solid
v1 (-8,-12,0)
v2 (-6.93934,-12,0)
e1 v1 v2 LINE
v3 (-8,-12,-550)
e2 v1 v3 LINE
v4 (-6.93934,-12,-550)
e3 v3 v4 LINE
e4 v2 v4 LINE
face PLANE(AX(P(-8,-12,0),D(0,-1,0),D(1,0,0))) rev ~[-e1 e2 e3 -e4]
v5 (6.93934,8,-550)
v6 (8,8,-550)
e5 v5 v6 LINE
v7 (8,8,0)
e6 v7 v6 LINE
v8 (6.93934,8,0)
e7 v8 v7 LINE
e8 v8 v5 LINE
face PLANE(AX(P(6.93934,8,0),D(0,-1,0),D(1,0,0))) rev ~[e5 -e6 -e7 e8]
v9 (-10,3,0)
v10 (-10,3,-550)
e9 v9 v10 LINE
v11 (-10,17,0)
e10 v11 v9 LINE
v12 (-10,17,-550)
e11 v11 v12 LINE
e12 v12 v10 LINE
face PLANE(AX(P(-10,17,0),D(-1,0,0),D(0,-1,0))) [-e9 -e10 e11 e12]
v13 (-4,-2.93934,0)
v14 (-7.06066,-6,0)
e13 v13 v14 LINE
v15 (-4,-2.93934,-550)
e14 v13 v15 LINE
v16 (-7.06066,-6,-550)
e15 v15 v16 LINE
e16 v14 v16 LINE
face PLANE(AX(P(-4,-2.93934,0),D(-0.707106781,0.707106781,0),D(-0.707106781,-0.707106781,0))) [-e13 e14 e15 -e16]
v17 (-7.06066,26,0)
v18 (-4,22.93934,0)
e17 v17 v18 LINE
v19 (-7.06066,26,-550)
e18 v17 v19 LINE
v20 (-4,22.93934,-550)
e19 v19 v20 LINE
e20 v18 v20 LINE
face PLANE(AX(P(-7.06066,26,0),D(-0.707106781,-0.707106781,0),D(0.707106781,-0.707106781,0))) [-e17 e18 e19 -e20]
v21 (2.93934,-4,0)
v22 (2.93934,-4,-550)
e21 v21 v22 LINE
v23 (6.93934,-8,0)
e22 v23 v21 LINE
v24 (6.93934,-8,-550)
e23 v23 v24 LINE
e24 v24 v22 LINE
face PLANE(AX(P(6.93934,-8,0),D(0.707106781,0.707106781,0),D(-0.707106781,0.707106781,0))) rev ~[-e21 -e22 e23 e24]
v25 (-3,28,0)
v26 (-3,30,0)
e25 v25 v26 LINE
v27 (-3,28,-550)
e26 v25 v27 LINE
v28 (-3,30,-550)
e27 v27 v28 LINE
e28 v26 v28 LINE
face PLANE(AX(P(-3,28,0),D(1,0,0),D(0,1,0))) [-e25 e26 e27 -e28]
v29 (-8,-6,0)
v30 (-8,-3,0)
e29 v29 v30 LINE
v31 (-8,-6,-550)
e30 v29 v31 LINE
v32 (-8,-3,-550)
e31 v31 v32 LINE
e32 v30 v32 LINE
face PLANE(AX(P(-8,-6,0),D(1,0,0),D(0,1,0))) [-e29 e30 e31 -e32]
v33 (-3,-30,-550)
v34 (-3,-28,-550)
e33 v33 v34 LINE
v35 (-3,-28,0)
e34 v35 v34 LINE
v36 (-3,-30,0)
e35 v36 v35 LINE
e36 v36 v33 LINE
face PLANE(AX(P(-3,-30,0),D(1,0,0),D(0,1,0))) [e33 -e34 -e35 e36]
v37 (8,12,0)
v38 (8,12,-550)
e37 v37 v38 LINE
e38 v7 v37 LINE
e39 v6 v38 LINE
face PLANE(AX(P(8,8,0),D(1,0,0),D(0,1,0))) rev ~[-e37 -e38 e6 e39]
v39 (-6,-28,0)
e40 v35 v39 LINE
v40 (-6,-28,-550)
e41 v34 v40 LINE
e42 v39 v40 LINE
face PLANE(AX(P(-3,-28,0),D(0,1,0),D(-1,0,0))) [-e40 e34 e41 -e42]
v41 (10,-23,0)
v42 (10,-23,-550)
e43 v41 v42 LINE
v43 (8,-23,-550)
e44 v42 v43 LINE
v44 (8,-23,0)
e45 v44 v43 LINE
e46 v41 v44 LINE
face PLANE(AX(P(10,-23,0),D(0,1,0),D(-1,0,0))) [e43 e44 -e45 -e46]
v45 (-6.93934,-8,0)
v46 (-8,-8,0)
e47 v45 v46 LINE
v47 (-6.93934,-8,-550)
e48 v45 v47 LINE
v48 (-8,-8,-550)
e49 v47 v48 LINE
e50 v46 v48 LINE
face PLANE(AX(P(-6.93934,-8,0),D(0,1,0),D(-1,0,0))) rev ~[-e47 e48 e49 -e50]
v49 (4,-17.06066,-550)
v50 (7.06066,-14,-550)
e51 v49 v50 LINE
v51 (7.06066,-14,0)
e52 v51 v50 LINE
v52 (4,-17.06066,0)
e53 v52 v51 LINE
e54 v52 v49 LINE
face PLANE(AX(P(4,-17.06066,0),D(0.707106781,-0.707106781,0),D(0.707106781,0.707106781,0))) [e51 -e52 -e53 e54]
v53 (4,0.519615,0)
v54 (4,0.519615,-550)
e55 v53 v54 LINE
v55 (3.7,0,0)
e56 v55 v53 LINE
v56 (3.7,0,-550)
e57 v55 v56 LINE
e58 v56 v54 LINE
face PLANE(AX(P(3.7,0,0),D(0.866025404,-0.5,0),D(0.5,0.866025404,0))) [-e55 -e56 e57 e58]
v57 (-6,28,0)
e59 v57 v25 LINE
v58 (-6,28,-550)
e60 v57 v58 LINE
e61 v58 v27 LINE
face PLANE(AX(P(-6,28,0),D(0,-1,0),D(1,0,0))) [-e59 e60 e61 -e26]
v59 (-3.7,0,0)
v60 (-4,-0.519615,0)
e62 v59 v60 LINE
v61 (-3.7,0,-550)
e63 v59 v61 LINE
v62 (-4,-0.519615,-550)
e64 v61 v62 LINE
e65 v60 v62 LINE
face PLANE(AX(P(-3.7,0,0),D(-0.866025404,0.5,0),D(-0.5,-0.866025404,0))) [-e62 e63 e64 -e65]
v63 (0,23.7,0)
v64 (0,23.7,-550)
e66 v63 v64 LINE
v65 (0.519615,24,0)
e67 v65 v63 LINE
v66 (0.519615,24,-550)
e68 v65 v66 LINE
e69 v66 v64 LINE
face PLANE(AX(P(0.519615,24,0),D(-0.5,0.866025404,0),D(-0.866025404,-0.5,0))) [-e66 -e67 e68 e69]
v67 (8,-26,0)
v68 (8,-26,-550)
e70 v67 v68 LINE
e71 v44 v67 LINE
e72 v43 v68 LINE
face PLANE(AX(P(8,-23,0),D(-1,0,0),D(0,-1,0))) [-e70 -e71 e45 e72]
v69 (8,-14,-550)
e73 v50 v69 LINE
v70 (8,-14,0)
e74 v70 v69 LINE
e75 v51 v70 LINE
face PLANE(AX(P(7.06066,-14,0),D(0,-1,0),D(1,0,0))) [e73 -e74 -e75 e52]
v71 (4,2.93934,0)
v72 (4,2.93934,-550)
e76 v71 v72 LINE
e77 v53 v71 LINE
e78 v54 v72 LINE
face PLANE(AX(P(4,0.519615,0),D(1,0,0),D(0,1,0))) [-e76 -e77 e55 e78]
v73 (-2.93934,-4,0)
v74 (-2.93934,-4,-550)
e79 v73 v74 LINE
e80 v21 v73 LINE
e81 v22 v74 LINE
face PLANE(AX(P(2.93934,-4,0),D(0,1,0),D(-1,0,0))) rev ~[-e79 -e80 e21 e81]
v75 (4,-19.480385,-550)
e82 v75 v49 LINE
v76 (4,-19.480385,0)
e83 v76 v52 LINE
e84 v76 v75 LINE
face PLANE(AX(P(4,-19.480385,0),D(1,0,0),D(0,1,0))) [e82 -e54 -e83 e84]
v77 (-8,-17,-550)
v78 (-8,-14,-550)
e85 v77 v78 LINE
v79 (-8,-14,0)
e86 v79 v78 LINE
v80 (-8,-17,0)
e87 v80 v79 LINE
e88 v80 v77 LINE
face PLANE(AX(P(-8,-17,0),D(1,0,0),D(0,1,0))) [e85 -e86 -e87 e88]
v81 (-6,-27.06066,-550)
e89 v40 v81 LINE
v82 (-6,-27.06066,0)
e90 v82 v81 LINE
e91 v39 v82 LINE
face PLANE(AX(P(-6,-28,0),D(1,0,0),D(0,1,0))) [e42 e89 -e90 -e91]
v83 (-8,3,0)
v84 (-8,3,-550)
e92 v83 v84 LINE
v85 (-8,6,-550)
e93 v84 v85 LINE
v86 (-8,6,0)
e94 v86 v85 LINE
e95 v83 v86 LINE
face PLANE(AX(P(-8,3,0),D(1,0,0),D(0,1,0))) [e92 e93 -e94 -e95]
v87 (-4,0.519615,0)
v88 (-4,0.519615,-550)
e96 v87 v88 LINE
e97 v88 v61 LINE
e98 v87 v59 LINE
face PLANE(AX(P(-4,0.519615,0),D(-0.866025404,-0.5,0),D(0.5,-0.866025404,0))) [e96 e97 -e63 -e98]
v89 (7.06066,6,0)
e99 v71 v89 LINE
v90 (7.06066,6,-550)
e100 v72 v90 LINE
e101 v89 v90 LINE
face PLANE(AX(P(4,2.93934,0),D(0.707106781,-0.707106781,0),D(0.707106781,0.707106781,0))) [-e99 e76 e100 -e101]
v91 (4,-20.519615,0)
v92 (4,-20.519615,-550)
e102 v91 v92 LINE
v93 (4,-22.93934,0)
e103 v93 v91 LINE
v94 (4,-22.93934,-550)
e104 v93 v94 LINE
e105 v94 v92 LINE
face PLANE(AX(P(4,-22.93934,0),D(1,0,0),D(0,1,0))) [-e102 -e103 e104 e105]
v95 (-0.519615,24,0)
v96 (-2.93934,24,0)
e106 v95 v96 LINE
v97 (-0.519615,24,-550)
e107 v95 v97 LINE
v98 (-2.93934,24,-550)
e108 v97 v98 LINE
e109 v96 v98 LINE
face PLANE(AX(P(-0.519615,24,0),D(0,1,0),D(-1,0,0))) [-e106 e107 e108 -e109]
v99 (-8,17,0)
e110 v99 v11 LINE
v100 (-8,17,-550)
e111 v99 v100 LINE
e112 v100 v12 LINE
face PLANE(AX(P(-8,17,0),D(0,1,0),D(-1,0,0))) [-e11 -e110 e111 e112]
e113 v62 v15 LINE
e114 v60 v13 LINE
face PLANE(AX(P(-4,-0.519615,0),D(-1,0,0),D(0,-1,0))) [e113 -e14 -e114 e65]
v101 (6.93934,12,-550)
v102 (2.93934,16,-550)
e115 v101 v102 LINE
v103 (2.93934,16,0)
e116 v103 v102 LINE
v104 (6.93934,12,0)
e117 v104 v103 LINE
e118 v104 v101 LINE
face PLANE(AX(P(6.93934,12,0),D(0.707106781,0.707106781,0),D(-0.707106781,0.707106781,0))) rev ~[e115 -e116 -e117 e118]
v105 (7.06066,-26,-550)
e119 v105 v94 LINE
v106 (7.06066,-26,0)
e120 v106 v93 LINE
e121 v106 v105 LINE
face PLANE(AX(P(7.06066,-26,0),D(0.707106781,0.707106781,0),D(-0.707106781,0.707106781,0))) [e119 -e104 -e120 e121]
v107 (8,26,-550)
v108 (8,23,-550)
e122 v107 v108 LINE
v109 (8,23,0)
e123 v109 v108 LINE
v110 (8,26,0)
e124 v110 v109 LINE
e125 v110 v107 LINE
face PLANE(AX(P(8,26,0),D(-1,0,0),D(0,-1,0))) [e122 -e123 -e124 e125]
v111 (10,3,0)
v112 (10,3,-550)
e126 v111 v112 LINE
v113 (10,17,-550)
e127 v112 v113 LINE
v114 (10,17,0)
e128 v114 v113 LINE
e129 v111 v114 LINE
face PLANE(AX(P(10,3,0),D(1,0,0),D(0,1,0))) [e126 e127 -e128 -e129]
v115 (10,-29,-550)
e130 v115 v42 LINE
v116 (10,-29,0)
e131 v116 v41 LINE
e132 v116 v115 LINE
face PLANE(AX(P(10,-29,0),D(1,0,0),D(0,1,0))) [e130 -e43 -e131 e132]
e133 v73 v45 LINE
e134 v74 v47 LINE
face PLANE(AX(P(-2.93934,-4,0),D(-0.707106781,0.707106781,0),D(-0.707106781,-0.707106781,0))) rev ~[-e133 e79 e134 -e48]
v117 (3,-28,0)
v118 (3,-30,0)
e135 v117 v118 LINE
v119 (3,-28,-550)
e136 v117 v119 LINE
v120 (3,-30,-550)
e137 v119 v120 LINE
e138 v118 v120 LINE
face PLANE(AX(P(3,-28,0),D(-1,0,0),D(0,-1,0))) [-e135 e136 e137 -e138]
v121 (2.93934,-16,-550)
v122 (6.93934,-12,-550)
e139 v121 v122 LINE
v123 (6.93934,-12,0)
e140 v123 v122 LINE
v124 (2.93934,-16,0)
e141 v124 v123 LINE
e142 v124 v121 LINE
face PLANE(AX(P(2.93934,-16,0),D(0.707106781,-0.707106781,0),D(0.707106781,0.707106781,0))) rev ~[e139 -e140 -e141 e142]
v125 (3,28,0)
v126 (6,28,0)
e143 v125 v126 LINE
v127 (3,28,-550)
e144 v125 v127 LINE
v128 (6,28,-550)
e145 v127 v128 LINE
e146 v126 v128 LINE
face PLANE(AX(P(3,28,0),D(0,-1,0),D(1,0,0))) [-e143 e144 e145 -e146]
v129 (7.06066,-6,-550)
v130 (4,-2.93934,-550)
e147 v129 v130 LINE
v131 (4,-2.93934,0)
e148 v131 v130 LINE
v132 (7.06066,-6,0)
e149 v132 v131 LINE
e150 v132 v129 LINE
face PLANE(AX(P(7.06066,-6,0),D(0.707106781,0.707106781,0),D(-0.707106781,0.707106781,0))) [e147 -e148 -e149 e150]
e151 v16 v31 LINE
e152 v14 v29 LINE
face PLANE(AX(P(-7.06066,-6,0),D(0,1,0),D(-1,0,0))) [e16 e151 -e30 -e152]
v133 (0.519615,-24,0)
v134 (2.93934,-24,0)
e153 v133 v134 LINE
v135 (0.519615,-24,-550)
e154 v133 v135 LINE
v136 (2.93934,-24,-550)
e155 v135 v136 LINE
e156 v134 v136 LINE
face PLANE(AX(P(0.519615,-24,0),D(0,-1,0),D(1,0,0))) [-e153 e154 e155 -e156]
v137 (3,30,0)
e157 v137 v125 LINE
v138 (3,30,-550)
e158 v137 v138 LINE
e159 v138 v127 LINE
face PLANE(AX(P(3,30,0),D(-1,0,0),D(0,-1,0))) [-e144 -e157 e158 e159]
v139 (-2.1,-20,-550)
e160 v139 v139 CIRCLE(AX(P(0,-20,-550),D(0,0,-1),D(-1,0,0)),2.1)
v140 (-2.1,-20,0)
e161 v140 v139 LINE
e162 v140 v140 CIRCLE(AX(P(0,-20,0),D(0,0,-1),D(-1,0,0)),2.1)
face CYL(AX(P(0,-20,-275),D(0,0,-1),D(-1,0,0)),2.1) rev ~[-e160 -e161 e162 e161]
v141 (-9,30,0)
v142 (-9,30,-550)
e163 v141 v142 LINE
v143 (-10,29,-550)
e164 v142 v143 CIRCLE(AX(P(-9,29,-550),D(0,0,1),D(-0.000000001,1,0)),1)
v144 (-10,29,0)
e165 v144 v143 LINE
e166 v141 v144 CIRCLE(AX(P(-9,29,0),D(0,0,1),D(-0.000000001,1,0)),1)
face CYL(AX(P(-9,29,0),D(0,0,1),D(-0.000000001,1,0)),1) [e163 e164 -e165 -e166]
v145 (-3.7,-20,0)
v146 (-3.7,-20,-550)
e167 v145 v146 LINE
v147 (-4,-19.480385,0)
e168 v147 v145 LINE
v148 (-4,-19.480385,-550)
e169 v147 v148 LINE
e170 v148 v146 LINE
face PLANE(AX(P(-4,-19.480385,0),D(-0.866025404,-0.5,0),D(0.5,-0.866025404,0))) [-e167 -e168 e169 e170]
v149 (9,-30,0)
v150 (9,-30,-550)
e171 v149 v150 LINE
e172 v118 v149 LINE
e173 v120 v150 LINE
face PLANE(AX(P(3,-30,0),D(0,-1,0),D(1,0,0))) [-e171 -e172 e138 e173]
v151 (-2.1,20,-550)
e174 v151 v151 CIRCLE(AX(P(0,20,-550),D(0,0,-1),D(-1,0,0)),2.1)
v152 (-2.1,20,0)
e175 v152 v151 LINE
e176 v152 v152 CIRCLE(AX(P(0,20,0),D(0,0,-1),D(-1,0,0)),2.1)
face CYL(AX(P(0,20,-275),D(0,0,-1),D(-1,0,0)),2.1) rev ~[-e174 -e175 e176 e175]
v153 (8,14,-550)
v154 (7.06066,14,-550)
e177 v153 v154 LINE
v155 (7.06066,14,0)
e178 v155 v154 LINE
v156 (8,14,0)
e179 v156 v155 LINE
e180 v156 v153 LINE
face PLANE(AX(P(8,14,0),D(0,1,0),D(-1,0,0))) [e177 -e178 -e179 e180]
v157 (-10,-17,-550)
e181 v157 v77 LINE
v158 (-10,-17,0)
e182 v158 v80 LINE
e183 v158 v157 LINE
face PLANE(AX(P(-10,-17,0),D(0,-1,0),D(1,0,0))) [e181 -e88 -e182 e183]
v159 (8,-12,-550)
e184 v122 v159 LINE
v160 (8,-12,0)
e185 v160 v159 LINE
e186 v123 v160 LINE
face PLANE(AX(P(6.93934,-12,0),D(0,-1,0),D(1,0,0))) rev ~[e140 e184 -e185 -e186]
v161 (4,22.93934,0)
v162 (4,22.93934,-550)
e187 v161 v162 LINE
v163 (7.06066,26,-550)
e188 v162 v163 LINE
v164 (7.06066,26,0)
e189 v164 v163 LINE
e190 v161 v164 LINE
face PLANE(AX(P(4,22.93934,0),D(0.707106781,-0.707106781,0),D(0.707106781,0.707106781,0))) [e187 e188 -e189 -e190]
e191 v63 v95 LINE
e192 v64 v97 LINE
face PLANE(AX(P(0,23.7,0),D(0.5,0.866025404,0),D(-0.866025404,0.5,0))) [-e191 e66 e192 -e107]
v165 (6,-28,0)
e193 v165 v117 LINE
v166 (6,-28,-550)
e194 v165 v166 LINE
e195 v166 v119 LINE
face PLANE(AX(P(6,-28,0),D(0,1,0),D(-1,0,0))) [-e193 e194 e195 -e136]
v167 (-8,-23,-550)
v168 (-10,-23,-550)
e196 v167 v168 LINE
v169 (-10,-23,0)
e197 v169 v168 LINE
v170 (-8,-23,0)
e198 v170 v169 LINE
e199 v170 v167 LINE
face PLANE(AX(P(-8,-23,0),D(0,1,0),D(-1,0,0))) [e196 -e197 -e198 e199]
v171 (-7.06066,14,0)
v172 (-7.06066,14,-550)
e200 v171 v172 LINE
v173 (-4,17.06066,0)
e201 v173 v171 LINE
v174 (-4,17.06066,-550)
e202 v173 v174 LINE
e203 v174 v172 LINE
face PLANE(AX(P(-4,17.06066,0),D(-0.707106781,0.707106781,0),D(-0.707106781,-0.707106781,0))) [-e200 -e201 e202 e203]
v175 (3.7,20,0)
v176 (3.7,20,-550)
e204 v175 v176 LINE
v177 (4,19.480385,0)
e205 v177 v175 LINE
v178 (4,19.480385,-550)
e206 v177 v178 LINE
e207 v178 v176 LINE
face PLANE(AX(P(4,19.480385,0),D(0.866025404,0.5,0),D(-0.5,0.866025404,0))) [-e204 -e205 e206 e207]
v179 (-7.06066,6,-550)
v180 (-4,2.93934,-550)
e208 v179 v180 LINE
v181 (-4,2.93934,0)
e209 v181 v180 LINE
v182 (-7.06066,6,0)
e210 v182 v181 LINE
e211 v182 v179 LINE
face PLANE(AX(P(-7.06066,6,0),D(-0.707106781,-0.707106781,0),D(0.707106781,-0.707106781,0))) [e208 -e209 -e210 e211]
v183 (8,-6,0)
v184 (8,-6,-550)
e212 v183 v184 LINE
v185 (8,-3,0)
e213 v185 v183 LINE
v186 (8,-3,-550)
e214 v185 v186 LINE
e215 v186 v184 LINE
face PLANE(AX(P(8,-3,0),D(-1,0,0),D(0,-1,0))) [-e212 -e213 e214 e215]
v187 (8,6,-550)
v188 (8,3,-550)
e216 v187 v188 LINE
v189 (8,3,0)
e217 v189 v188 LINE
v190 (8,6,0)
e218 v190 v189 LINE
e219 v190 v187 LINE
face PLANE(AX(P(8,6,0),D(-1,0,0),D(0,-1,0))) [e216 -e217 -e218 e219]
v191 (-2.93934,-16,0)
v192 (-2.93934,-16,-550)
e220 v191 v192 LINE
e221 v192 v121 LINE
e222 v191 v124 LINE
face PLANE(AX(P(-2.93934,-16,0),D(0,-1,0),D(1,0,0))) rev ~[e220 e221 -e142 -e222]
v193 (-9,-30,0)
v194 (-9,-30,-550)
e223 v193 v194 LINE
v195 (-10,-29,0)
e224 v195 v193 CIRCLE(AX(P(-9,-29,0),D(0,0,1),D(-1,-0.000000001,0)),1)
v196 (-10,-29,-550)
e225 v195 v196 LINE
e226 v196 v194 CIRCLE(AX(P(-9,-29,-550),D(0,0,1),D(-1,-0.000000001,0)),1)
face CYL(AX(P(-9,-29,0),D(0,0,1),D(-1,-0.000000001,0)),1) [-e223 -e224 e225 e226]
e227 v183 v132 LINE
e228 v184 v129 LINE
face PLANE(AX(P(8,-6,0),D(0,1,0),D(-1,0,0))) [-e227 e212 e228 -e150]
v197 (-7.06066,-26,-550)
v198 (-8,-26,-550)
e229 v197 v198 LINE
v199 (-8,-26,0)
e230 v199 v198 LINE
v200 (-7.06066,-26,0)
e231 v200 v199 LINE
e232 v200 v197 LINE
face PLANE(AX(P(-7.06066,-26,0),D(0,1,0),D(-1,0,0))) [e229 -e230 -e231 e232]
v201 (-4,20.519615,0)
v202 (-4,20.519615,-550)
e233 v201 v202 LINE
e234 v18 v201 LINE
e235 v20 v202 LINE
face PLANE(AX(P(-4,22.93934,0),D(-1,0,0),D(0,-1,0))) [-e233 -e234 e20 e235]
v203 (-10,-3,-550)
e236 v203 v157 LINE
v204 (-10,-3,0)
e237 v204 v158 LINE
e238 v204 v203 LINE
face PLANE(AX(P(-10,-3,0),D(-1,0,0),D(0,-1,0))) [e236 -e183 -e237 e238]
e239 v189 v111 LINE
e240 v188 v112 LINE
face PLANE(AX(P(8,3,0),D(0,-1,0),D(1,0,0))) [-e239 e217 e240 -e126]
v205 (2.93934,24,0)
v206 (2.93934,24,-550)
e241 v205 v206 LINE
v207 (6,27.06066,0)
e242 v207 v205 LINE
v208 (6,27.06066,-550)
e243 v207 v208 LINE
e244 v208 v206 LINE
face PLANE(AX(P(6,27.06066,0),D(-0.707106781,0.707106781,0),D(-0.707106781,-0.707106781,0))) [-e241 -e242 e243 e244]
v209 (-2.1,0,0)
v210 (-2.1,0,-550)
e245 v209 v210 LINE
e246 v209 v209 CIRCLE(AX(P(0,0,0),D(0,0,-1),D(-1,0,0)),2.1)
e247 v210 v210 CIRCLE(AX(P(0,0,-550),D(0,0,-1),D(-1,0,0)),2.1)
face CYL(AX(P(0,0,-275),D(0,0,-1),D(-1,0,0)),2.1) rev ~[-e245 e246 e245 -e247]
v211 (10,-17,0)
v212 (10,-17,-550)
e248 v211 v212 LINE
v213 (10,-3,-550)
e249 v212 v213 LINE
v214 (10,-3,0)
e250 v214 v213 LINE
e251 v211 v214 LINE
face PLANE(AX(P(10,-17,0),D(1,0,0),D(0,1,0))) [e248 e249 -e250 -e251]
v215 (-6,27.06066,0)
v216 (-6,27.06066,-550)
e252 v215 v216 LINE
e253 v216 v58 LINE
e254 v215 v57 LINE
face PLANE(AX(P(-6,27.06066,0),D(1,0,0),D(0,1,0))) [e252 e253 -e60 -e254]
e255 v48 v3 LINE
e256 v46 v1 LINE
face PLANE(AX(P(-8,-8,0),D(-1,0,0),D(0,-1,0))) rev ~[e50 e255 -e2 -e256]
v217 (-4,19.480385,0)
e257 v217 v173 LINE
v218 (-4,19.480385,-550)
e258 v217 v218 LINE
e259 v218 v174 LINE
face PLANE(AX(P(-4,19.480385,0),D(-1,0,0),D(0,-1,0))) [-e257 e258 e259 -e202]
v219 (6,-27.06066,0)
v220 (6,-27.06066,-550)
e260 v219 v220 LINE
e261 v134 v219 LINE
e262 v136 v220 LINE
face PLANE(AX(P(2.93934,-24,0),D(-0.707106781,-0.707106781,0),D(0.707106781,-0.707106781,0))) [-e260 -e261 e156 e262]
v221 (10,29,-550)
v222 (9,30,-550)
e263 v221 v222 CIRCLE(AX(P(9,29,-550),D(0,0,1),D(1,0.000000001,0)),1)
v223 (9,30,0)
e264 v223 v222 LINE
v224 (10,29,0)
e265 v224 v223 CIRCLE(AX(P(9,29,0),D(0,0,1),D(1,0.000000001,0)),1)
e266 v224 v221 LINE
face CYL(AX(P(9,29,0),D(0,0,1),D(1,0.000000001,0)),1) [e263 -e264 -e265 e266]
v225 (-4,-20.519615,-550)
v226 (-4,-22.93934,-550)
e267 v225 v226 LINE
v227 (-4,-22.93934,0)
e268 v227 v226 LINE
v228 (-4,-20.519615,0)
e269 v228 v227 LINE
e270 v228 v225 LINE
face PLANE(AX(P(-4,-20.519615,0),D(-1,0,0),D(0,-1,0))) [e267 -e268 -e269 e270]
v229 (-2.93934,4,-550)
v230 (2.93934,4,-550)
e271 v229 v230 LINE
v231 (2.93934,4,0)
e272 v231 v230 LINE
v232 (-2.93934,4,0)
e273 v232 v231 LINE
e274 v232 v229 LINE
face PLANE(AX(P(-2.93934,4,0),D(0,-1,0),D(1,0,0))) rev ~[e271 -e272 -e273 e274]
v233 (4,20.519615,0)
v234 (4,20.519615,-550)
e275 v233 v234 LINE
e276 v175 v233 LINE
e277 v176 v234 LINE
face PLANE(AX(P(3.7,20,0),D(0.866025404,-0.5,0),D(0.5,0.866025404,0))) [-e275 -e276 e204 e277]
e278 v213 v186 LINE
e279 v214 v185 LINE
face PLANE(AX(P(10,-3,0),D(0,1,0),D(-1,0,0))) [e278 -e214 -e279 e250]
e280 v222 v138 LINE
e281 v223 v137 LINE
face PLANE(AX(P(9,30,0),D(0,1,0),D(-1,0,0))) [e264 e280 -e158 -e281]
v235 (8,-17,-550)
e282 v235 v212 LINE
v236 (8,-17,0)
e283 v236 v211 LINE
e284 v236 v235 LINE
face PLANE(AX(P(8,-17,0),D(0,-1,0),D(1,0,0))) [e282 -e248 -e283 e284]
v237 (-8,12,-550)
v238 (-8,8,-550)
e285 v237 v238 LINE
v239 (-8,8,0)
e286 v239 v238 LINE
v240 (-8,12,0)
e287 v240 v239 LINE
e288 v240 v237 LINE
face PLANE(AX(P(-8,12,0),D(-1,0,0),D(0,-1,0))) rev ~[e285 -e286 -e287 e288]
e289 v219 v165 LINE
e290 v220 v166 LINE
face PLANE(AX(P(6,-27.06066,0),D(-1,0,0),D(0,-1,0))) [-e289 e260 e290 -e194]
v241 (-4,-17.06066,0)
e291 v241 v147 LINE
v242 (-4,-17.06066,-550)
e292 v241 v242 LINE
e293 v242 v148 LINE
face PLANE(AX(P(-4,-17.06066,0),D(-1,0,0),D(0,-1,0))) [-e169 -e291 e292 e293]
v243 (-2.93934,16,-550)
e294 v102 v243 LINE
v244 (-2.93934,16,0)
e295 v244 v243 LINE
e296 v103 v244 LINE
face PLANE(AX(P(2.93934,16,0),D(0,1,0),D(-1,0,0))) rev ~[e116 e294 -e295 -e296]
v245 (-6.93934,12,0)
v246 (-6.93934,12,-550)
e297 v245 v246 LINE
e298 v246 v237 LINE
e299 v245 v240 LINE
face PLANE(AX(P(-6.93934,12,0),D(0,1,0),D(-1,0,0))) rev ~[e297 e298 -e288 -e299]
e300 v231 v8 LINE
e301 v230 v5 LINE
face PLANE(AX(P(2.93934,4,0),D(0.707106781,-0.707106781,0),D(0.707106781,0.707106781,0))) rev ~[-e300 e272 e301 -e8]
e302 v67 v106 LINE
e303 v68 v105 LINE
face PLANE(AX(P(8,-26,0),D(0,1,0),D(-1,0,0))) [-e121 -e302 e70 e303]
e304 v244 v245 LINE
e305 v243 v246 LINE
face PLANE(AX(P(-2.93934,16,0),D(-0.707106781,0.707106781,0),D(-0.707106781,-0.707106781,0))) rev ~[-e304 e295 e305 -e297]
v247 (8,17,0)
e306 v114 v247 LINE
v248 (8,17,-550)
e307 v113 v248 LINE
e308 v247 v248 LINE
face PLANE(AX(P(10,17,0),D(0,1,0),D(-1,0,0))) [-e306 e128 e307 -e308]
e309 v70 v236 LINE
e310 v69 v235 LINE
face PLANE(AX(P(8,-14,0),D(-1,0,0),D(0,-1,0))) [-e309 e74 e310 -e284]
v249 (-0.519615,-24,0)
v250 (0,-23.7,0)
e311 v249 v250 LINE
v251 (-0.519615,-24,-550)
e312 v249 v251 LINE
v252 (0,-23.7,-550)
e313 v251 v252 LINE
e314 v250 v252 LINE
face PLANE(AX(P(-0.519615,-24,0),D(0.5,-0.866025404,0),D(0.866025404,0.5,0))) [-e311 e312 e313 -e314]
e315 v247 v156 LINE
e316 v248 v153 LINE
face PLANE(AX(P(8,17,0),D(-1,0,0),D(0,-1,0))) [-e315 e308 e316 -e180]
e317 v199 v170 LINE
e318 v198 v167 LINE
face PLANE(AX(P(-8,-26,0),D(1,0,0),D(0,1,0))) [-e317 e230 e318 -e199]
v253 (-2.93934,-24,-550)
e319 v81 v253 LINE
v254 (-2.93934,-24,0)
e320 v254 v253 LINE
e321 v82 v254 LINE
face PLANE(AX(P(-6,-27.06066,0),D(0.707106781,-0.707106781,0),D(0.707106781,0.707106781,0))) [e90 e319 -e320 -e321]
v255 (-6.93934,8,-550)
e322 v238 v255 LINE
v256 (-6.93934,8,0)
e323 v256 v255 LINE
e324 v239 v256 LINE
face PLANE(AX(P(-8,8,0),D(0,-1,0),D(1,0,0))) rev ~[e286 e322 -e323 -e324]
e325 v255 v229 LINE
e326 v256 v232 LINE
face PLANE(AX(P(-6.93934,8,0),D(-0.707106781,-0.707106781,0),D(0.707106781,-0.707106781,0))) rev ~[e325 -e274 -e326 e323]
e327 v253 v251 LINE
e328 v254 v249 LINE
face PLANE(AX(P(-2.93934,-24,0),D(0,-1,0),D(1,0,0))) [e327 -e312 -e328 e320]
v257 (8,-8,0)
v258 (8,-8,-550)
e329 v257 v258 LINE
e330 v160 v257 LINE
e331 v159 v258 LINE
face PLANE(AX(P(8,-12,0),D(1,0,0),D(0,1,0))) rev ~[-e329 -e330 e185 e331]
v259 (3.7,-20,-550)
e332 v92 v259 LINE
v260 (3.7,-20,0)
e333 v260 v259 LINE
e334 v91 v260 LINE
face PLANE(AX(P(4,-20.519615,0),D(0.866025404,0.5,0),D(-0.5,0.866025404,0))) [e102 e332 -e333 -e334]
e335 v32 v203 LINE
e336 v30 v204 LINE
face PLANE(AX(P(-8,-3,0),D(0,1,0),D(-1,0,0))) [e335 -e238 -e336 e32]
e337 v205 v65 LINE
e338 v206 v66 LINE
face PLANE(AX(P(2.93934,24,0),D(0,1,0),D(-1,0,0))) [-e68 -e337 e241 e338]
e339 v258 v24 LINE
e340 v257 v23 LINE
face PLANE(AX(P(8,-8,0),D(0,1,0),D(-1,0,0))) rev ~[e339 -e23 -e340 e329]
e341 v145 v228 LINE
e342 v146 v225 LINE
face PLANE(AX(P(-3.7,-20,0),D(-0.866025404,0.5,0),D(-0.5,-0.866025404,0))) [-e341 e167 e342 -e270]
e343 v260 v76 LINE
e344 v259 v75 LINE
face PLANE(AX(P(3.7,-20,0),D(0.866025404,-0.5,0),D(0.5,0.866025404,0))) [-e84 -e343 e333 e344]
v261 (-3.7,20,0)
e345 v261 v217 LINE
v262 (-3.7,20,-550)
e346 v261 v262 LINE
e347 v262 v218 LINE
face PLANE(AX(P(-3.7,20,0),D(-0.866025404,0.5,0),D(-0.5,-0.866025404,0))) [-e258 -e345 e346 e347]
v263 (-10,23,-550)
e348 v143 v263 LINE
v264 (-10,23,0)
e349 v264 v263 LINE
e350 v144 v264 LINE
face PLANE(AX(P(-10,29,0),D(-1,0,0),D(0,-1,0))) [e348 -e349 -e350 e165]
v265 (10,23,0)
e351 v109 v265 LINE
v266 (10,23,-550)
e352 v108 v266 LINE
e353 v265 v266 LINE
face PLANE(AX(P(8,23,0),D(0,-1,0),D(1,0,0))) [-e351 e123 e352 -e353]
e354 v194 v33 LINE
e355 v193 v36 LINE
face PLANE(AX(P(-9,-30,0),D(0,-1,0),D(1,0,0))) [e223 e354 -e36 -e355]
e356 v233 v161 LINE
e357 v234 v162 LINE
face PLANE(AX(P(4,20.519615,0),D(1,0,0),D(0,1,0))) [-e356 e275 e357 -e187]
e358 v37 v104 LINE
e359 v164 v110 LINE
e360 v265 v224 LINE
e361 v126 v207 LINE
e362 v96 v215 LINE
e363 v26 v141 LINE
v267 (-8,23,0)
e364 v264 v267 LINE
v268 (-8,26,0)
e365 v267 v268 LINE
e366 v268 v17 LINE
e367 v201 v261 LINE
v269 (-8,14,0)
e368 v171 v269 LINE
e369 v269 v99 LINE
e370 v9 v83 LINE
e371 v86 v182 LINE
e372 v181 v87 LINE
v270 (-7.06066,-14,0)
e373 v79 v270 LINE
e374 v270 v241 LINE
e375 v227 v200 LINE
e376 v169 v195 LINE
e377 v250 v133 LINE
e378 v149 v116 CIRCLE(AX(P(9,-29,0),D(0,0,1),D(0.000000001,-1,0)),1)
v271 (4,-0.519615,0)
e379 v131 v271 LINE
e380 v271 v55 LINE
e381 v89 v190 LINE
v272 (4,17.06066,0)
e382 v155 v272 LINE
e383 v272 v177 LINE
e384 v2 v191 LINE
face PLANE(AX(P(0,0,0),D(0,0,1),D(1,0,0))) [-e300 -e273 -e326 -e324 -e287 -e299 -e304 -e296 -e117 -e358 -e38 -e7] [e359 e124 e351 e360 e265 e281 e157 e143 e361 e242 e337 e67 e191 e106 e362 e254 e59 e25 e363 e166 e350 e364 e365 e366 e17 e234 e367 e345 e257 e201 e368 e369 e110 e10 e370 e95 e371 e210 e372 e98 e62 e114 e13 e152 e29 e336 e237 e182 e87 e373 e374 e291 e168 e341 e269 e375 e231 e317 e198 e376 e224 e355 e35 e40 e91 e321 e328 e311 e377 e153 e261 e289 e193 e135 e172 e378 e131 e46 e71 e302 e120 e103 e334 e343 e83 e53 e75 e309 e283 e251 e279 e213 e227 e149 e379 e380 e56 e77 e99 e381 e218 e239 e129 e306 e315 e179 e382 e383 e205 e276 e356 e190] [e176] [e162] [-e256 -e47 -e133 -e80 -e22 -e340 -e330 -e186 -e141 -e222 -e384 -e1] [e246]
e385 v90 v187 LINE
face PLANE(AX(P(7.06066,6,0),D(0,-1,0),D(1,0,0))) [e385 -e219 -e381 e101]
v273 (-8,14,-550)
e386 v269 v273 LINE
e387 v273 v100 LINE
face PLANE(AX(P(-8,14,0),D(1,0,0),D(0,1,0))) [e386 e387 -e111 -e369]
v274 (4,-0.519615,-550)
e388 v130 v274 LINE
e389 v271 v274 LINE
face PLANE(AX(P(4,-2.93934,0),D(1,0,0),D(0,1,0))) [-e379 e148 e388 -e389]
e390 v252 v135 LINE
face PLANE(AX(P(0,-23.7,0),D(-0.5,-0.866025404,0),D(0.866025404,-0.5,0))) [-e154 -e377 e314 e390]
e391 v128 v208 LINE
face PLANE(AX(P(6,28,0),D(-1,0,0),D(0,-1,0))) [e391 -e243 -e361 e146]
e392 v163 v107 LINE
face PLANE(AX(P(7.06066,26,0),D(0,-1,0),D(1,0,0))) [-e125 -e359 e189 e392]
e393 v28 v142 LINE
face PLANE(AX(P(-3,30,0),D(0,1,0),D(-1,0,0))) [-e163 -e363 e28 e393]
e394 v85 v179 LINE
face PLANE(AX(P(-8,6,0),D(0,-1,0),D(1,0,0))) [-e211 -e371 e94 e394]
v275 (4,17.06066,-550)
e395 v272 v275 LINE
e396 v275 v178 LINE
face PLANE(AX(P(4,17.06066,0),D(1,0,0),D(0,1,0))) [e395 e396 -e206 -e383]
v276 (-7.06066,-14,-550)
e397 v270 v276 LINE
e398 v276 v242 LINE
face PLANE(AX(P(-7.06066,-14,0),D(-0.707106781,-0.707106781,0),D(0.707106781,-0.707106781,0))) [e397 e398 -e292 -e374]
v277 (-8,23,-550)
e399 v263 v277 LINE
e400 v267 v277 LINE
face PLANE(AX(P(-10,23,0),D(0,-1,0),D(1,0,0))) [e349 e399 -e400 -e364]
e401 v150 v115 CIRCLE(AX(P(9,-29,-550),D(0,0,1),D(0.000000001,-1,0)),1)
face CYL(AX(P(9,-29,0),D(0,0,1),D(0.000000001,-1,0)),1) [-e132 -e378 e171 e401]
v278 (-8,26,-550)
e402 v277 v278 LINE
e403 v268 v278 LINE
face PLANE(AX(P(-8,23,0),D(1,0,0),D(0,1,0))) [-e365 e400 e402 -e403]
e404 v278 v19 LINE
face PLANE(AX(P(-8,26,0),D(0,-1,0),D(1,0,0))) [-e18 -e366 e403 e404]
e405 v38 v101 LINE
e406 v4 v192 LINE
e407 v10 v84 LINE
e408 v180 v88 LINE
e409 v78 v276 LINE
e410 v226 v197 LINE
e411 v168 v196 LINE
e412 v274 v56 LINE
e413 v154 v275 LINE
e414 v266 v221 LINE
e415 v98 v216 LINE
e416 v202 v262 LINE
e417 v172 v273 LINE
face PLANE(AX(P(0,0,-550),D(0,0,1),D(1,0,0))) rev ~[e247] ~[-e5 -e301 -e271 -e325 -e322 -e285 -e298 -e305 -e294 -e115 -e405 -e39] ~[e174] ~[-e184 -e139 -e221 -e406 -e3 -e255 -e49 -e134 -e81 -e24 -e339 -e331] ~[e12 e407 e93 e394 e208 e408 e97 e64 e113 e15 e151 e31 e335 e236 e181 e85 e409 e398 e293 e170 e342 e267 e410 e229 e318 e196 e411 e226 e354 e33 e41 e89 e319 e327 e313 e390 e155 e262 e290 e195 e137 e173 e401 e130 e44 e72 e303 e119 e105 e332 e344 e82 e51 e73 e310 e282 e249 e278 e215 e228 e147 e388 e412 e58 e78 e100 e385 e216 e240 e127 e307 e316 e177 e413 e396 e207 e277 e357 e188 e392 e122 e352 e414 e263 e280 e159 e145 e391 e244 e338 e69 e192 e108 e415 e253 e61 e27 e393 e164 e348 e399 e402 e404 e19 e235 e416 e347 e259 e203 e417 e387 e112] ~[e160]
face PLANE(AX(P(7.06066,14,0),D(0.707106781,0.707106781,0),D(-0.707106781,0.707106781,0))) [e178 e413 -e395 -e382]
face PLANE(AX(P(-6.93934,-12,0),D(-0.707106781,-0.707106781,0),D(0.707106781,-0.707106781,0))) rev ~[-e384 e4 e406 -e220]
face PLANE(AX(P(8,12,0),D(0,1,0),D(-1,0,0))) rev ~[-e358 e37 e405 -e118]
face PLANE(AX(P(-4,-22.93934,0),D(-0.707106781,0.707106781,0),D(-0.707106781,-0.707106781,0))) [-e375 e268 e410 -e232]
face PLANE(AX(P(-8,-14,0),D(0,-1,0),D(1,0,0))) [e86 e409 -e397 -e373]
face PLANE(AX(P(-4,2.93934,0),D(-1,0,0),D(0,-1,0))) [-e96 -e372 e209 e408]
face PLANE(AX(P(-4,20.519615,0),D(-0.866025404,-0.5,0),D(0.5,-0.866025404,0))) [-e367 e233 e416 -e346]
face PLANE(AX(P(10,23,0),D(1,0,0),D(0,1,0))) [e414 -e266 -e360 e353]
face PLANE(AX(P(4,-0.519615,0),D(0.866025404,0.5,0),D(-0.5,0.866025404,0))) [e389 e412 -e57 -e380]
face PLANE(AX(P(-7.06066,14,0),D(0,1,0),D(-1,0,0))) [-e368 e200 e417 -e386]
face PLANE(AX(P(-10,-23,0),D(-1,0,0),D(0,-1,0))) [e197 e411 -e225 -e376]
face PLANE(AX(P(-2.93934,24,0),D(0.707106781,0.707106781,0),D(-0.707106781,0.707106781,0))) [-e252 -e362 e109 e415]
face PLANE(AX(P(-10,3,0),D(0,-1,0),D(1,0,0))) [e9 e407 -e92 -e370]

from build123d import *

# Parameters (mm, degrees)
BOSS_EXTRUDE1_DEPTH = 550
SKETCH2_W           = 550
SKETCH2_H           = 2.1
SKETCH3_W           = 550
SKETCH3_H           = 2.1
SKETCH4_W           = 550
SKETCH4_H           = 2.1


with BuildPart() as part:
    # Sketch1 → Boss-Extrude1 (new body)
    with BuildSketch(Plane.XY):
        with BuildLine():
            Line((-10, -17), (-8, -17))
            Line((-8, -17), (-8, -14))
            Line((-8, -14), (-7.060660172, -14))
            Line((-7.060660172, -14), (-4, -17.060660172))
            Line((-4, -17.060660172), (-4, -19.480384758))
            Line((-4, -19.480384758), (-3.7, -20))
            Line((-3.7, -20), (-4, -20.519615242))
            Line((-4, -20.519615242), (-4, -22.939339828))
            Line((-4, -22.939339828), (-7.060660172, -26))
            Line((-7.060660172, -26), (-8, -26))
            Line((-8, -26), (-8, -23))
            Line((-8, -23), (-10, -23))
            Line((-10, -23), (-10, -29))
            ThreePointArc((-10, -29), (-9.707106781, -29.707106781), (-9, -30))
            Line((-9, -30), (-3, -30))
            Line((-3, -30), (-3, -28))
            Line((-3, -28), (-6, -28))
            Line((-6, -28), (-6, -27.060660172))
            Line((-6, -27.060660172), (-2.939339828, -24))
            Line((-2.939339828, -24), (-0.519615242, -24))
            Line((-0.519615242, -24), (0, -23.7))
            Line((0, -23.7), (0.519615242, -24))
            Line((0.519615242, -24), (2.939339828, -24))
            Line((2.939339828, -24), (6, -27.060660172))
            Line((6, -27.060660172), (6, -28))
            Line((6, -28), (3, -28))
            Line((3, -28), (3, -30))
            Line((3, -30), (9, -30))
            ThreePointArc((9, -30), (9.707106781, -29.707106781), (10, -29))
            Line((10, -29), (10, -23))
            Line((10, -23), (8, -23))
            Line((8, -23), (8, -26))
            Line((8, -26), (7.060660172, -26))
            Line((7.060660172, -26), (4, -22.939339828))
            Line((4, -22.939339828), (4, -20.519615242))
            Line((4, -20.519615242), (3.7, -20))
            Line((3.7, -20), (4, -19.480384758))
            Line((4, -19.480384758), (4, -17.060660172))
            Line((4, -17.060660172), (7.060660172, -14))
            Line((7.060660172, -14), (8, -14))
            Line((8, -14), (8, -17))
            Line((8, -17), (10, -17))
            Line((10, -17), (10, -3))
            Line((10, -3), (8, -3))
            Line((8, -3), (8, -6))
            Line((8, -6), (7.060660172, -6))
            Line((7.060660172, -6), (4, -2.939339828))
            Line((4, -2.939339828), (4, -0.519615242))
            Line((4, -0.519615242), (3.7, 0))
            Line((3.7, 0), (4, 0.519615242))
            Line((4, 0.519615242), (4, 2.939339828))
            Line((4, 2.939339828), (7.060660172, 6))
            Line((7.060660172, 6), (8, 6))
            Line((8, 6), (8, 3))
            Line((8, 3), (10, 3))
            Line((10, 3), (10, 17))
            Line((10, 17), (8, 17))
            Line((8, 17), (8, 14))
            Line((8, 14), (7.060660172, 14))
            Line((7.060660172, 14), (4, 17.060660172))
            Line((4, 17.060660172), (4, 19.480384758))
            Line((4, 19.480384758), (3.7, 20))
            Line((3.7, 20), (4, 20.519615242))
            Line((4, 20.519615242), (4, 22.939339828))
            Line((4, 22.939339828), (7.060660172, 26))
            Line((7.060660172, 26), (8, 26))
            Line((8, 26), (8, 23))
            Line((8, 23), (10, 23))
            Line((10, 23), (10, 29))
            ThreePointArc((10, 29), (9.707106781, 29.707106781), (9, 30))
            Line((9, 30), (3, 30))
            Line((3, 30), (3, 28))
            Line((3, 28), (6, 28))
            Line((6, 28), (6, 27.060660172))
            Line((6, 27.060660172), (2.939339828, 24))
            Line((2.939339828, 24), (0.519615242, 24))
            Line((0.519615242, 24), (0, 23.7))
            Line((0, 23.7), (-0.519615242, 24))
            Line((-0.519615242, 24), (-2.939339828, 24))
            Line((-2.939339828, 24), (-6, 27.060660172))
            Line((-6, 27.060660172), (-6, 28))
            Line((-6, 28), (-3, 28))
            Line((-3, 28), (-3, 30))
            Line((-3, 30), (-9, 30))
            ThreePointArc((-9, 30), (-9.707106781, 29.707106781), (-10, 29))
            Line((-10, 29), (-10, 23))
            Line((-10, 23), (-8, 23))
            Line((-8, 23), (-8, 26))
            Line((-8, 26), (-7.060660172, 26))
            Line((-7.060660172, 26), (-4, 22.939339828))
            Line((-4, 22.939339828), (-4, 20.519615242))
            Line((-4, 20.519615242), (-3.7, 20))
            Line((-3.7, 20), (-4, 19.480384758))
            Line((-4, 19.480384758), (-4, 17.060660172))
            Line((-4, 17.060660172), (-7.060660172, 14))
            Line((-7.060660172, 14), (-8, 14))
            Line((-8, 14), (-8, 17))
            Line((-8, 17), (-10, 17))
            Line((-10, 17), (-10, 3))
            Line((-10, 3), (-8, 3))
            Line((-8, 3), (-8, 6))
            Line((-8, 6), (-7.060660172, 6))
            Line((-7.060660172, 6), (-4, 2.939339828))
            Line((-4, 2.939339828), (-4, 0.519615242))
            Line((-4, 0.519615242), (-3.7, 0))
            Line((-3.7, 0), (-4, -0.519615242))
            Line((-4, -0.519615242), (-4, -2.939339828))
            Line((-4, -2.939339828), (-7.060660172, -6))
            Line((-7.060660172, -6), (-8, -6))
            Line((-8, -6), (-8, -3))
            Line((-8, -3), (-10, -3))
            Line((-10, -3), (-10, -17))
        make_face()
        Polygon((-8, 8), (-6.939339828, 8), (-2.939339828, 4), (2.939339828, 4), (6.939339828, 8), (8, 8), (8, 12), (6.939339828, 12), (2.939339828, 16), (-2.939339828, 16), (-6.939339828, 12), (-8, 12), align=None, mode=Mode.SUBTRACT)
        Polygon((-8, -8), (-8, -12), (-6.939339828, -12), (-2.939339828, -16), (2.939339828, -16), (6.939339828, -12), (8, -12), (8, -8), (6.939339828, -8), (2.939339828, -4), (-2.939339828, -4), (-6.939339828, -8), align=None, mode=Mode.SUBTRACT)
    extrude(amount=-BOSS_EXTRUDE1_DEPTH)

    # Sketch2 → Cut-Revolve1 (revolve, cut)
    with BuildSketch(Plane(origin=(0, 0, 0), x_dir=(0, 0, -1), z_dir=(1, 0, 0)), mode=Mode.PRIVATE) as cut_revolve1_sk:
        with Locations((275, 18.95)):
            Rectangle(SKETCH2_W, SKETCH2_H)
    revolve(cut_revolve1_sk.sketch.rotate(Axis((0, 20, 0), (0, 0, -1)), 90), axis=Axis((0, 20, 0), (0, 0, -1)), mode=Mode.SUBTRACT)

    # Sketch3 → Cut-Revolve2 (revolve, cut)
    with BuildSketch(Plane(origin=(0, 0, 0), x_dir=(0, 0, -1), z_dir=(1, 0, 0)), mode=Mode.PRIVATE) as cut_revolve2_sk:
        with Locations((275, -1.05)):
            Rectangle(SKETCH3_W, SKETCH3_H)
    revolve(cut_revolve2_sk.sketch.rotate(Axis((0, 0, 0), (0, 0, -1)), 90), axis=Axis((0, 0, 0), (0, 0, -1)), mode=Mode.SUBTRACT)

    # Sketch4 → Cut-Revolve3 (revolve, cut)
    with BuildSketch(Plane(origin=(0, 0, 0), x_dir=(0, 0, -1), z_dir=(1, 0, 0)), mode=Mode.PRIVATE) as cut_revolve3_sk:
        with Locations((275, -21.05)):
            Rectangle(SKETCH4_W, SKETCH4_H)
    revolve(cut_revolve3_sk.sketch.rotate(Axis((0, -20, 0), (0, 0, -1)), 90), axis=Axis((0, -20, 0), (0, 0, -1)), mode=Mode.SUBTRACT)


solid = part.part
